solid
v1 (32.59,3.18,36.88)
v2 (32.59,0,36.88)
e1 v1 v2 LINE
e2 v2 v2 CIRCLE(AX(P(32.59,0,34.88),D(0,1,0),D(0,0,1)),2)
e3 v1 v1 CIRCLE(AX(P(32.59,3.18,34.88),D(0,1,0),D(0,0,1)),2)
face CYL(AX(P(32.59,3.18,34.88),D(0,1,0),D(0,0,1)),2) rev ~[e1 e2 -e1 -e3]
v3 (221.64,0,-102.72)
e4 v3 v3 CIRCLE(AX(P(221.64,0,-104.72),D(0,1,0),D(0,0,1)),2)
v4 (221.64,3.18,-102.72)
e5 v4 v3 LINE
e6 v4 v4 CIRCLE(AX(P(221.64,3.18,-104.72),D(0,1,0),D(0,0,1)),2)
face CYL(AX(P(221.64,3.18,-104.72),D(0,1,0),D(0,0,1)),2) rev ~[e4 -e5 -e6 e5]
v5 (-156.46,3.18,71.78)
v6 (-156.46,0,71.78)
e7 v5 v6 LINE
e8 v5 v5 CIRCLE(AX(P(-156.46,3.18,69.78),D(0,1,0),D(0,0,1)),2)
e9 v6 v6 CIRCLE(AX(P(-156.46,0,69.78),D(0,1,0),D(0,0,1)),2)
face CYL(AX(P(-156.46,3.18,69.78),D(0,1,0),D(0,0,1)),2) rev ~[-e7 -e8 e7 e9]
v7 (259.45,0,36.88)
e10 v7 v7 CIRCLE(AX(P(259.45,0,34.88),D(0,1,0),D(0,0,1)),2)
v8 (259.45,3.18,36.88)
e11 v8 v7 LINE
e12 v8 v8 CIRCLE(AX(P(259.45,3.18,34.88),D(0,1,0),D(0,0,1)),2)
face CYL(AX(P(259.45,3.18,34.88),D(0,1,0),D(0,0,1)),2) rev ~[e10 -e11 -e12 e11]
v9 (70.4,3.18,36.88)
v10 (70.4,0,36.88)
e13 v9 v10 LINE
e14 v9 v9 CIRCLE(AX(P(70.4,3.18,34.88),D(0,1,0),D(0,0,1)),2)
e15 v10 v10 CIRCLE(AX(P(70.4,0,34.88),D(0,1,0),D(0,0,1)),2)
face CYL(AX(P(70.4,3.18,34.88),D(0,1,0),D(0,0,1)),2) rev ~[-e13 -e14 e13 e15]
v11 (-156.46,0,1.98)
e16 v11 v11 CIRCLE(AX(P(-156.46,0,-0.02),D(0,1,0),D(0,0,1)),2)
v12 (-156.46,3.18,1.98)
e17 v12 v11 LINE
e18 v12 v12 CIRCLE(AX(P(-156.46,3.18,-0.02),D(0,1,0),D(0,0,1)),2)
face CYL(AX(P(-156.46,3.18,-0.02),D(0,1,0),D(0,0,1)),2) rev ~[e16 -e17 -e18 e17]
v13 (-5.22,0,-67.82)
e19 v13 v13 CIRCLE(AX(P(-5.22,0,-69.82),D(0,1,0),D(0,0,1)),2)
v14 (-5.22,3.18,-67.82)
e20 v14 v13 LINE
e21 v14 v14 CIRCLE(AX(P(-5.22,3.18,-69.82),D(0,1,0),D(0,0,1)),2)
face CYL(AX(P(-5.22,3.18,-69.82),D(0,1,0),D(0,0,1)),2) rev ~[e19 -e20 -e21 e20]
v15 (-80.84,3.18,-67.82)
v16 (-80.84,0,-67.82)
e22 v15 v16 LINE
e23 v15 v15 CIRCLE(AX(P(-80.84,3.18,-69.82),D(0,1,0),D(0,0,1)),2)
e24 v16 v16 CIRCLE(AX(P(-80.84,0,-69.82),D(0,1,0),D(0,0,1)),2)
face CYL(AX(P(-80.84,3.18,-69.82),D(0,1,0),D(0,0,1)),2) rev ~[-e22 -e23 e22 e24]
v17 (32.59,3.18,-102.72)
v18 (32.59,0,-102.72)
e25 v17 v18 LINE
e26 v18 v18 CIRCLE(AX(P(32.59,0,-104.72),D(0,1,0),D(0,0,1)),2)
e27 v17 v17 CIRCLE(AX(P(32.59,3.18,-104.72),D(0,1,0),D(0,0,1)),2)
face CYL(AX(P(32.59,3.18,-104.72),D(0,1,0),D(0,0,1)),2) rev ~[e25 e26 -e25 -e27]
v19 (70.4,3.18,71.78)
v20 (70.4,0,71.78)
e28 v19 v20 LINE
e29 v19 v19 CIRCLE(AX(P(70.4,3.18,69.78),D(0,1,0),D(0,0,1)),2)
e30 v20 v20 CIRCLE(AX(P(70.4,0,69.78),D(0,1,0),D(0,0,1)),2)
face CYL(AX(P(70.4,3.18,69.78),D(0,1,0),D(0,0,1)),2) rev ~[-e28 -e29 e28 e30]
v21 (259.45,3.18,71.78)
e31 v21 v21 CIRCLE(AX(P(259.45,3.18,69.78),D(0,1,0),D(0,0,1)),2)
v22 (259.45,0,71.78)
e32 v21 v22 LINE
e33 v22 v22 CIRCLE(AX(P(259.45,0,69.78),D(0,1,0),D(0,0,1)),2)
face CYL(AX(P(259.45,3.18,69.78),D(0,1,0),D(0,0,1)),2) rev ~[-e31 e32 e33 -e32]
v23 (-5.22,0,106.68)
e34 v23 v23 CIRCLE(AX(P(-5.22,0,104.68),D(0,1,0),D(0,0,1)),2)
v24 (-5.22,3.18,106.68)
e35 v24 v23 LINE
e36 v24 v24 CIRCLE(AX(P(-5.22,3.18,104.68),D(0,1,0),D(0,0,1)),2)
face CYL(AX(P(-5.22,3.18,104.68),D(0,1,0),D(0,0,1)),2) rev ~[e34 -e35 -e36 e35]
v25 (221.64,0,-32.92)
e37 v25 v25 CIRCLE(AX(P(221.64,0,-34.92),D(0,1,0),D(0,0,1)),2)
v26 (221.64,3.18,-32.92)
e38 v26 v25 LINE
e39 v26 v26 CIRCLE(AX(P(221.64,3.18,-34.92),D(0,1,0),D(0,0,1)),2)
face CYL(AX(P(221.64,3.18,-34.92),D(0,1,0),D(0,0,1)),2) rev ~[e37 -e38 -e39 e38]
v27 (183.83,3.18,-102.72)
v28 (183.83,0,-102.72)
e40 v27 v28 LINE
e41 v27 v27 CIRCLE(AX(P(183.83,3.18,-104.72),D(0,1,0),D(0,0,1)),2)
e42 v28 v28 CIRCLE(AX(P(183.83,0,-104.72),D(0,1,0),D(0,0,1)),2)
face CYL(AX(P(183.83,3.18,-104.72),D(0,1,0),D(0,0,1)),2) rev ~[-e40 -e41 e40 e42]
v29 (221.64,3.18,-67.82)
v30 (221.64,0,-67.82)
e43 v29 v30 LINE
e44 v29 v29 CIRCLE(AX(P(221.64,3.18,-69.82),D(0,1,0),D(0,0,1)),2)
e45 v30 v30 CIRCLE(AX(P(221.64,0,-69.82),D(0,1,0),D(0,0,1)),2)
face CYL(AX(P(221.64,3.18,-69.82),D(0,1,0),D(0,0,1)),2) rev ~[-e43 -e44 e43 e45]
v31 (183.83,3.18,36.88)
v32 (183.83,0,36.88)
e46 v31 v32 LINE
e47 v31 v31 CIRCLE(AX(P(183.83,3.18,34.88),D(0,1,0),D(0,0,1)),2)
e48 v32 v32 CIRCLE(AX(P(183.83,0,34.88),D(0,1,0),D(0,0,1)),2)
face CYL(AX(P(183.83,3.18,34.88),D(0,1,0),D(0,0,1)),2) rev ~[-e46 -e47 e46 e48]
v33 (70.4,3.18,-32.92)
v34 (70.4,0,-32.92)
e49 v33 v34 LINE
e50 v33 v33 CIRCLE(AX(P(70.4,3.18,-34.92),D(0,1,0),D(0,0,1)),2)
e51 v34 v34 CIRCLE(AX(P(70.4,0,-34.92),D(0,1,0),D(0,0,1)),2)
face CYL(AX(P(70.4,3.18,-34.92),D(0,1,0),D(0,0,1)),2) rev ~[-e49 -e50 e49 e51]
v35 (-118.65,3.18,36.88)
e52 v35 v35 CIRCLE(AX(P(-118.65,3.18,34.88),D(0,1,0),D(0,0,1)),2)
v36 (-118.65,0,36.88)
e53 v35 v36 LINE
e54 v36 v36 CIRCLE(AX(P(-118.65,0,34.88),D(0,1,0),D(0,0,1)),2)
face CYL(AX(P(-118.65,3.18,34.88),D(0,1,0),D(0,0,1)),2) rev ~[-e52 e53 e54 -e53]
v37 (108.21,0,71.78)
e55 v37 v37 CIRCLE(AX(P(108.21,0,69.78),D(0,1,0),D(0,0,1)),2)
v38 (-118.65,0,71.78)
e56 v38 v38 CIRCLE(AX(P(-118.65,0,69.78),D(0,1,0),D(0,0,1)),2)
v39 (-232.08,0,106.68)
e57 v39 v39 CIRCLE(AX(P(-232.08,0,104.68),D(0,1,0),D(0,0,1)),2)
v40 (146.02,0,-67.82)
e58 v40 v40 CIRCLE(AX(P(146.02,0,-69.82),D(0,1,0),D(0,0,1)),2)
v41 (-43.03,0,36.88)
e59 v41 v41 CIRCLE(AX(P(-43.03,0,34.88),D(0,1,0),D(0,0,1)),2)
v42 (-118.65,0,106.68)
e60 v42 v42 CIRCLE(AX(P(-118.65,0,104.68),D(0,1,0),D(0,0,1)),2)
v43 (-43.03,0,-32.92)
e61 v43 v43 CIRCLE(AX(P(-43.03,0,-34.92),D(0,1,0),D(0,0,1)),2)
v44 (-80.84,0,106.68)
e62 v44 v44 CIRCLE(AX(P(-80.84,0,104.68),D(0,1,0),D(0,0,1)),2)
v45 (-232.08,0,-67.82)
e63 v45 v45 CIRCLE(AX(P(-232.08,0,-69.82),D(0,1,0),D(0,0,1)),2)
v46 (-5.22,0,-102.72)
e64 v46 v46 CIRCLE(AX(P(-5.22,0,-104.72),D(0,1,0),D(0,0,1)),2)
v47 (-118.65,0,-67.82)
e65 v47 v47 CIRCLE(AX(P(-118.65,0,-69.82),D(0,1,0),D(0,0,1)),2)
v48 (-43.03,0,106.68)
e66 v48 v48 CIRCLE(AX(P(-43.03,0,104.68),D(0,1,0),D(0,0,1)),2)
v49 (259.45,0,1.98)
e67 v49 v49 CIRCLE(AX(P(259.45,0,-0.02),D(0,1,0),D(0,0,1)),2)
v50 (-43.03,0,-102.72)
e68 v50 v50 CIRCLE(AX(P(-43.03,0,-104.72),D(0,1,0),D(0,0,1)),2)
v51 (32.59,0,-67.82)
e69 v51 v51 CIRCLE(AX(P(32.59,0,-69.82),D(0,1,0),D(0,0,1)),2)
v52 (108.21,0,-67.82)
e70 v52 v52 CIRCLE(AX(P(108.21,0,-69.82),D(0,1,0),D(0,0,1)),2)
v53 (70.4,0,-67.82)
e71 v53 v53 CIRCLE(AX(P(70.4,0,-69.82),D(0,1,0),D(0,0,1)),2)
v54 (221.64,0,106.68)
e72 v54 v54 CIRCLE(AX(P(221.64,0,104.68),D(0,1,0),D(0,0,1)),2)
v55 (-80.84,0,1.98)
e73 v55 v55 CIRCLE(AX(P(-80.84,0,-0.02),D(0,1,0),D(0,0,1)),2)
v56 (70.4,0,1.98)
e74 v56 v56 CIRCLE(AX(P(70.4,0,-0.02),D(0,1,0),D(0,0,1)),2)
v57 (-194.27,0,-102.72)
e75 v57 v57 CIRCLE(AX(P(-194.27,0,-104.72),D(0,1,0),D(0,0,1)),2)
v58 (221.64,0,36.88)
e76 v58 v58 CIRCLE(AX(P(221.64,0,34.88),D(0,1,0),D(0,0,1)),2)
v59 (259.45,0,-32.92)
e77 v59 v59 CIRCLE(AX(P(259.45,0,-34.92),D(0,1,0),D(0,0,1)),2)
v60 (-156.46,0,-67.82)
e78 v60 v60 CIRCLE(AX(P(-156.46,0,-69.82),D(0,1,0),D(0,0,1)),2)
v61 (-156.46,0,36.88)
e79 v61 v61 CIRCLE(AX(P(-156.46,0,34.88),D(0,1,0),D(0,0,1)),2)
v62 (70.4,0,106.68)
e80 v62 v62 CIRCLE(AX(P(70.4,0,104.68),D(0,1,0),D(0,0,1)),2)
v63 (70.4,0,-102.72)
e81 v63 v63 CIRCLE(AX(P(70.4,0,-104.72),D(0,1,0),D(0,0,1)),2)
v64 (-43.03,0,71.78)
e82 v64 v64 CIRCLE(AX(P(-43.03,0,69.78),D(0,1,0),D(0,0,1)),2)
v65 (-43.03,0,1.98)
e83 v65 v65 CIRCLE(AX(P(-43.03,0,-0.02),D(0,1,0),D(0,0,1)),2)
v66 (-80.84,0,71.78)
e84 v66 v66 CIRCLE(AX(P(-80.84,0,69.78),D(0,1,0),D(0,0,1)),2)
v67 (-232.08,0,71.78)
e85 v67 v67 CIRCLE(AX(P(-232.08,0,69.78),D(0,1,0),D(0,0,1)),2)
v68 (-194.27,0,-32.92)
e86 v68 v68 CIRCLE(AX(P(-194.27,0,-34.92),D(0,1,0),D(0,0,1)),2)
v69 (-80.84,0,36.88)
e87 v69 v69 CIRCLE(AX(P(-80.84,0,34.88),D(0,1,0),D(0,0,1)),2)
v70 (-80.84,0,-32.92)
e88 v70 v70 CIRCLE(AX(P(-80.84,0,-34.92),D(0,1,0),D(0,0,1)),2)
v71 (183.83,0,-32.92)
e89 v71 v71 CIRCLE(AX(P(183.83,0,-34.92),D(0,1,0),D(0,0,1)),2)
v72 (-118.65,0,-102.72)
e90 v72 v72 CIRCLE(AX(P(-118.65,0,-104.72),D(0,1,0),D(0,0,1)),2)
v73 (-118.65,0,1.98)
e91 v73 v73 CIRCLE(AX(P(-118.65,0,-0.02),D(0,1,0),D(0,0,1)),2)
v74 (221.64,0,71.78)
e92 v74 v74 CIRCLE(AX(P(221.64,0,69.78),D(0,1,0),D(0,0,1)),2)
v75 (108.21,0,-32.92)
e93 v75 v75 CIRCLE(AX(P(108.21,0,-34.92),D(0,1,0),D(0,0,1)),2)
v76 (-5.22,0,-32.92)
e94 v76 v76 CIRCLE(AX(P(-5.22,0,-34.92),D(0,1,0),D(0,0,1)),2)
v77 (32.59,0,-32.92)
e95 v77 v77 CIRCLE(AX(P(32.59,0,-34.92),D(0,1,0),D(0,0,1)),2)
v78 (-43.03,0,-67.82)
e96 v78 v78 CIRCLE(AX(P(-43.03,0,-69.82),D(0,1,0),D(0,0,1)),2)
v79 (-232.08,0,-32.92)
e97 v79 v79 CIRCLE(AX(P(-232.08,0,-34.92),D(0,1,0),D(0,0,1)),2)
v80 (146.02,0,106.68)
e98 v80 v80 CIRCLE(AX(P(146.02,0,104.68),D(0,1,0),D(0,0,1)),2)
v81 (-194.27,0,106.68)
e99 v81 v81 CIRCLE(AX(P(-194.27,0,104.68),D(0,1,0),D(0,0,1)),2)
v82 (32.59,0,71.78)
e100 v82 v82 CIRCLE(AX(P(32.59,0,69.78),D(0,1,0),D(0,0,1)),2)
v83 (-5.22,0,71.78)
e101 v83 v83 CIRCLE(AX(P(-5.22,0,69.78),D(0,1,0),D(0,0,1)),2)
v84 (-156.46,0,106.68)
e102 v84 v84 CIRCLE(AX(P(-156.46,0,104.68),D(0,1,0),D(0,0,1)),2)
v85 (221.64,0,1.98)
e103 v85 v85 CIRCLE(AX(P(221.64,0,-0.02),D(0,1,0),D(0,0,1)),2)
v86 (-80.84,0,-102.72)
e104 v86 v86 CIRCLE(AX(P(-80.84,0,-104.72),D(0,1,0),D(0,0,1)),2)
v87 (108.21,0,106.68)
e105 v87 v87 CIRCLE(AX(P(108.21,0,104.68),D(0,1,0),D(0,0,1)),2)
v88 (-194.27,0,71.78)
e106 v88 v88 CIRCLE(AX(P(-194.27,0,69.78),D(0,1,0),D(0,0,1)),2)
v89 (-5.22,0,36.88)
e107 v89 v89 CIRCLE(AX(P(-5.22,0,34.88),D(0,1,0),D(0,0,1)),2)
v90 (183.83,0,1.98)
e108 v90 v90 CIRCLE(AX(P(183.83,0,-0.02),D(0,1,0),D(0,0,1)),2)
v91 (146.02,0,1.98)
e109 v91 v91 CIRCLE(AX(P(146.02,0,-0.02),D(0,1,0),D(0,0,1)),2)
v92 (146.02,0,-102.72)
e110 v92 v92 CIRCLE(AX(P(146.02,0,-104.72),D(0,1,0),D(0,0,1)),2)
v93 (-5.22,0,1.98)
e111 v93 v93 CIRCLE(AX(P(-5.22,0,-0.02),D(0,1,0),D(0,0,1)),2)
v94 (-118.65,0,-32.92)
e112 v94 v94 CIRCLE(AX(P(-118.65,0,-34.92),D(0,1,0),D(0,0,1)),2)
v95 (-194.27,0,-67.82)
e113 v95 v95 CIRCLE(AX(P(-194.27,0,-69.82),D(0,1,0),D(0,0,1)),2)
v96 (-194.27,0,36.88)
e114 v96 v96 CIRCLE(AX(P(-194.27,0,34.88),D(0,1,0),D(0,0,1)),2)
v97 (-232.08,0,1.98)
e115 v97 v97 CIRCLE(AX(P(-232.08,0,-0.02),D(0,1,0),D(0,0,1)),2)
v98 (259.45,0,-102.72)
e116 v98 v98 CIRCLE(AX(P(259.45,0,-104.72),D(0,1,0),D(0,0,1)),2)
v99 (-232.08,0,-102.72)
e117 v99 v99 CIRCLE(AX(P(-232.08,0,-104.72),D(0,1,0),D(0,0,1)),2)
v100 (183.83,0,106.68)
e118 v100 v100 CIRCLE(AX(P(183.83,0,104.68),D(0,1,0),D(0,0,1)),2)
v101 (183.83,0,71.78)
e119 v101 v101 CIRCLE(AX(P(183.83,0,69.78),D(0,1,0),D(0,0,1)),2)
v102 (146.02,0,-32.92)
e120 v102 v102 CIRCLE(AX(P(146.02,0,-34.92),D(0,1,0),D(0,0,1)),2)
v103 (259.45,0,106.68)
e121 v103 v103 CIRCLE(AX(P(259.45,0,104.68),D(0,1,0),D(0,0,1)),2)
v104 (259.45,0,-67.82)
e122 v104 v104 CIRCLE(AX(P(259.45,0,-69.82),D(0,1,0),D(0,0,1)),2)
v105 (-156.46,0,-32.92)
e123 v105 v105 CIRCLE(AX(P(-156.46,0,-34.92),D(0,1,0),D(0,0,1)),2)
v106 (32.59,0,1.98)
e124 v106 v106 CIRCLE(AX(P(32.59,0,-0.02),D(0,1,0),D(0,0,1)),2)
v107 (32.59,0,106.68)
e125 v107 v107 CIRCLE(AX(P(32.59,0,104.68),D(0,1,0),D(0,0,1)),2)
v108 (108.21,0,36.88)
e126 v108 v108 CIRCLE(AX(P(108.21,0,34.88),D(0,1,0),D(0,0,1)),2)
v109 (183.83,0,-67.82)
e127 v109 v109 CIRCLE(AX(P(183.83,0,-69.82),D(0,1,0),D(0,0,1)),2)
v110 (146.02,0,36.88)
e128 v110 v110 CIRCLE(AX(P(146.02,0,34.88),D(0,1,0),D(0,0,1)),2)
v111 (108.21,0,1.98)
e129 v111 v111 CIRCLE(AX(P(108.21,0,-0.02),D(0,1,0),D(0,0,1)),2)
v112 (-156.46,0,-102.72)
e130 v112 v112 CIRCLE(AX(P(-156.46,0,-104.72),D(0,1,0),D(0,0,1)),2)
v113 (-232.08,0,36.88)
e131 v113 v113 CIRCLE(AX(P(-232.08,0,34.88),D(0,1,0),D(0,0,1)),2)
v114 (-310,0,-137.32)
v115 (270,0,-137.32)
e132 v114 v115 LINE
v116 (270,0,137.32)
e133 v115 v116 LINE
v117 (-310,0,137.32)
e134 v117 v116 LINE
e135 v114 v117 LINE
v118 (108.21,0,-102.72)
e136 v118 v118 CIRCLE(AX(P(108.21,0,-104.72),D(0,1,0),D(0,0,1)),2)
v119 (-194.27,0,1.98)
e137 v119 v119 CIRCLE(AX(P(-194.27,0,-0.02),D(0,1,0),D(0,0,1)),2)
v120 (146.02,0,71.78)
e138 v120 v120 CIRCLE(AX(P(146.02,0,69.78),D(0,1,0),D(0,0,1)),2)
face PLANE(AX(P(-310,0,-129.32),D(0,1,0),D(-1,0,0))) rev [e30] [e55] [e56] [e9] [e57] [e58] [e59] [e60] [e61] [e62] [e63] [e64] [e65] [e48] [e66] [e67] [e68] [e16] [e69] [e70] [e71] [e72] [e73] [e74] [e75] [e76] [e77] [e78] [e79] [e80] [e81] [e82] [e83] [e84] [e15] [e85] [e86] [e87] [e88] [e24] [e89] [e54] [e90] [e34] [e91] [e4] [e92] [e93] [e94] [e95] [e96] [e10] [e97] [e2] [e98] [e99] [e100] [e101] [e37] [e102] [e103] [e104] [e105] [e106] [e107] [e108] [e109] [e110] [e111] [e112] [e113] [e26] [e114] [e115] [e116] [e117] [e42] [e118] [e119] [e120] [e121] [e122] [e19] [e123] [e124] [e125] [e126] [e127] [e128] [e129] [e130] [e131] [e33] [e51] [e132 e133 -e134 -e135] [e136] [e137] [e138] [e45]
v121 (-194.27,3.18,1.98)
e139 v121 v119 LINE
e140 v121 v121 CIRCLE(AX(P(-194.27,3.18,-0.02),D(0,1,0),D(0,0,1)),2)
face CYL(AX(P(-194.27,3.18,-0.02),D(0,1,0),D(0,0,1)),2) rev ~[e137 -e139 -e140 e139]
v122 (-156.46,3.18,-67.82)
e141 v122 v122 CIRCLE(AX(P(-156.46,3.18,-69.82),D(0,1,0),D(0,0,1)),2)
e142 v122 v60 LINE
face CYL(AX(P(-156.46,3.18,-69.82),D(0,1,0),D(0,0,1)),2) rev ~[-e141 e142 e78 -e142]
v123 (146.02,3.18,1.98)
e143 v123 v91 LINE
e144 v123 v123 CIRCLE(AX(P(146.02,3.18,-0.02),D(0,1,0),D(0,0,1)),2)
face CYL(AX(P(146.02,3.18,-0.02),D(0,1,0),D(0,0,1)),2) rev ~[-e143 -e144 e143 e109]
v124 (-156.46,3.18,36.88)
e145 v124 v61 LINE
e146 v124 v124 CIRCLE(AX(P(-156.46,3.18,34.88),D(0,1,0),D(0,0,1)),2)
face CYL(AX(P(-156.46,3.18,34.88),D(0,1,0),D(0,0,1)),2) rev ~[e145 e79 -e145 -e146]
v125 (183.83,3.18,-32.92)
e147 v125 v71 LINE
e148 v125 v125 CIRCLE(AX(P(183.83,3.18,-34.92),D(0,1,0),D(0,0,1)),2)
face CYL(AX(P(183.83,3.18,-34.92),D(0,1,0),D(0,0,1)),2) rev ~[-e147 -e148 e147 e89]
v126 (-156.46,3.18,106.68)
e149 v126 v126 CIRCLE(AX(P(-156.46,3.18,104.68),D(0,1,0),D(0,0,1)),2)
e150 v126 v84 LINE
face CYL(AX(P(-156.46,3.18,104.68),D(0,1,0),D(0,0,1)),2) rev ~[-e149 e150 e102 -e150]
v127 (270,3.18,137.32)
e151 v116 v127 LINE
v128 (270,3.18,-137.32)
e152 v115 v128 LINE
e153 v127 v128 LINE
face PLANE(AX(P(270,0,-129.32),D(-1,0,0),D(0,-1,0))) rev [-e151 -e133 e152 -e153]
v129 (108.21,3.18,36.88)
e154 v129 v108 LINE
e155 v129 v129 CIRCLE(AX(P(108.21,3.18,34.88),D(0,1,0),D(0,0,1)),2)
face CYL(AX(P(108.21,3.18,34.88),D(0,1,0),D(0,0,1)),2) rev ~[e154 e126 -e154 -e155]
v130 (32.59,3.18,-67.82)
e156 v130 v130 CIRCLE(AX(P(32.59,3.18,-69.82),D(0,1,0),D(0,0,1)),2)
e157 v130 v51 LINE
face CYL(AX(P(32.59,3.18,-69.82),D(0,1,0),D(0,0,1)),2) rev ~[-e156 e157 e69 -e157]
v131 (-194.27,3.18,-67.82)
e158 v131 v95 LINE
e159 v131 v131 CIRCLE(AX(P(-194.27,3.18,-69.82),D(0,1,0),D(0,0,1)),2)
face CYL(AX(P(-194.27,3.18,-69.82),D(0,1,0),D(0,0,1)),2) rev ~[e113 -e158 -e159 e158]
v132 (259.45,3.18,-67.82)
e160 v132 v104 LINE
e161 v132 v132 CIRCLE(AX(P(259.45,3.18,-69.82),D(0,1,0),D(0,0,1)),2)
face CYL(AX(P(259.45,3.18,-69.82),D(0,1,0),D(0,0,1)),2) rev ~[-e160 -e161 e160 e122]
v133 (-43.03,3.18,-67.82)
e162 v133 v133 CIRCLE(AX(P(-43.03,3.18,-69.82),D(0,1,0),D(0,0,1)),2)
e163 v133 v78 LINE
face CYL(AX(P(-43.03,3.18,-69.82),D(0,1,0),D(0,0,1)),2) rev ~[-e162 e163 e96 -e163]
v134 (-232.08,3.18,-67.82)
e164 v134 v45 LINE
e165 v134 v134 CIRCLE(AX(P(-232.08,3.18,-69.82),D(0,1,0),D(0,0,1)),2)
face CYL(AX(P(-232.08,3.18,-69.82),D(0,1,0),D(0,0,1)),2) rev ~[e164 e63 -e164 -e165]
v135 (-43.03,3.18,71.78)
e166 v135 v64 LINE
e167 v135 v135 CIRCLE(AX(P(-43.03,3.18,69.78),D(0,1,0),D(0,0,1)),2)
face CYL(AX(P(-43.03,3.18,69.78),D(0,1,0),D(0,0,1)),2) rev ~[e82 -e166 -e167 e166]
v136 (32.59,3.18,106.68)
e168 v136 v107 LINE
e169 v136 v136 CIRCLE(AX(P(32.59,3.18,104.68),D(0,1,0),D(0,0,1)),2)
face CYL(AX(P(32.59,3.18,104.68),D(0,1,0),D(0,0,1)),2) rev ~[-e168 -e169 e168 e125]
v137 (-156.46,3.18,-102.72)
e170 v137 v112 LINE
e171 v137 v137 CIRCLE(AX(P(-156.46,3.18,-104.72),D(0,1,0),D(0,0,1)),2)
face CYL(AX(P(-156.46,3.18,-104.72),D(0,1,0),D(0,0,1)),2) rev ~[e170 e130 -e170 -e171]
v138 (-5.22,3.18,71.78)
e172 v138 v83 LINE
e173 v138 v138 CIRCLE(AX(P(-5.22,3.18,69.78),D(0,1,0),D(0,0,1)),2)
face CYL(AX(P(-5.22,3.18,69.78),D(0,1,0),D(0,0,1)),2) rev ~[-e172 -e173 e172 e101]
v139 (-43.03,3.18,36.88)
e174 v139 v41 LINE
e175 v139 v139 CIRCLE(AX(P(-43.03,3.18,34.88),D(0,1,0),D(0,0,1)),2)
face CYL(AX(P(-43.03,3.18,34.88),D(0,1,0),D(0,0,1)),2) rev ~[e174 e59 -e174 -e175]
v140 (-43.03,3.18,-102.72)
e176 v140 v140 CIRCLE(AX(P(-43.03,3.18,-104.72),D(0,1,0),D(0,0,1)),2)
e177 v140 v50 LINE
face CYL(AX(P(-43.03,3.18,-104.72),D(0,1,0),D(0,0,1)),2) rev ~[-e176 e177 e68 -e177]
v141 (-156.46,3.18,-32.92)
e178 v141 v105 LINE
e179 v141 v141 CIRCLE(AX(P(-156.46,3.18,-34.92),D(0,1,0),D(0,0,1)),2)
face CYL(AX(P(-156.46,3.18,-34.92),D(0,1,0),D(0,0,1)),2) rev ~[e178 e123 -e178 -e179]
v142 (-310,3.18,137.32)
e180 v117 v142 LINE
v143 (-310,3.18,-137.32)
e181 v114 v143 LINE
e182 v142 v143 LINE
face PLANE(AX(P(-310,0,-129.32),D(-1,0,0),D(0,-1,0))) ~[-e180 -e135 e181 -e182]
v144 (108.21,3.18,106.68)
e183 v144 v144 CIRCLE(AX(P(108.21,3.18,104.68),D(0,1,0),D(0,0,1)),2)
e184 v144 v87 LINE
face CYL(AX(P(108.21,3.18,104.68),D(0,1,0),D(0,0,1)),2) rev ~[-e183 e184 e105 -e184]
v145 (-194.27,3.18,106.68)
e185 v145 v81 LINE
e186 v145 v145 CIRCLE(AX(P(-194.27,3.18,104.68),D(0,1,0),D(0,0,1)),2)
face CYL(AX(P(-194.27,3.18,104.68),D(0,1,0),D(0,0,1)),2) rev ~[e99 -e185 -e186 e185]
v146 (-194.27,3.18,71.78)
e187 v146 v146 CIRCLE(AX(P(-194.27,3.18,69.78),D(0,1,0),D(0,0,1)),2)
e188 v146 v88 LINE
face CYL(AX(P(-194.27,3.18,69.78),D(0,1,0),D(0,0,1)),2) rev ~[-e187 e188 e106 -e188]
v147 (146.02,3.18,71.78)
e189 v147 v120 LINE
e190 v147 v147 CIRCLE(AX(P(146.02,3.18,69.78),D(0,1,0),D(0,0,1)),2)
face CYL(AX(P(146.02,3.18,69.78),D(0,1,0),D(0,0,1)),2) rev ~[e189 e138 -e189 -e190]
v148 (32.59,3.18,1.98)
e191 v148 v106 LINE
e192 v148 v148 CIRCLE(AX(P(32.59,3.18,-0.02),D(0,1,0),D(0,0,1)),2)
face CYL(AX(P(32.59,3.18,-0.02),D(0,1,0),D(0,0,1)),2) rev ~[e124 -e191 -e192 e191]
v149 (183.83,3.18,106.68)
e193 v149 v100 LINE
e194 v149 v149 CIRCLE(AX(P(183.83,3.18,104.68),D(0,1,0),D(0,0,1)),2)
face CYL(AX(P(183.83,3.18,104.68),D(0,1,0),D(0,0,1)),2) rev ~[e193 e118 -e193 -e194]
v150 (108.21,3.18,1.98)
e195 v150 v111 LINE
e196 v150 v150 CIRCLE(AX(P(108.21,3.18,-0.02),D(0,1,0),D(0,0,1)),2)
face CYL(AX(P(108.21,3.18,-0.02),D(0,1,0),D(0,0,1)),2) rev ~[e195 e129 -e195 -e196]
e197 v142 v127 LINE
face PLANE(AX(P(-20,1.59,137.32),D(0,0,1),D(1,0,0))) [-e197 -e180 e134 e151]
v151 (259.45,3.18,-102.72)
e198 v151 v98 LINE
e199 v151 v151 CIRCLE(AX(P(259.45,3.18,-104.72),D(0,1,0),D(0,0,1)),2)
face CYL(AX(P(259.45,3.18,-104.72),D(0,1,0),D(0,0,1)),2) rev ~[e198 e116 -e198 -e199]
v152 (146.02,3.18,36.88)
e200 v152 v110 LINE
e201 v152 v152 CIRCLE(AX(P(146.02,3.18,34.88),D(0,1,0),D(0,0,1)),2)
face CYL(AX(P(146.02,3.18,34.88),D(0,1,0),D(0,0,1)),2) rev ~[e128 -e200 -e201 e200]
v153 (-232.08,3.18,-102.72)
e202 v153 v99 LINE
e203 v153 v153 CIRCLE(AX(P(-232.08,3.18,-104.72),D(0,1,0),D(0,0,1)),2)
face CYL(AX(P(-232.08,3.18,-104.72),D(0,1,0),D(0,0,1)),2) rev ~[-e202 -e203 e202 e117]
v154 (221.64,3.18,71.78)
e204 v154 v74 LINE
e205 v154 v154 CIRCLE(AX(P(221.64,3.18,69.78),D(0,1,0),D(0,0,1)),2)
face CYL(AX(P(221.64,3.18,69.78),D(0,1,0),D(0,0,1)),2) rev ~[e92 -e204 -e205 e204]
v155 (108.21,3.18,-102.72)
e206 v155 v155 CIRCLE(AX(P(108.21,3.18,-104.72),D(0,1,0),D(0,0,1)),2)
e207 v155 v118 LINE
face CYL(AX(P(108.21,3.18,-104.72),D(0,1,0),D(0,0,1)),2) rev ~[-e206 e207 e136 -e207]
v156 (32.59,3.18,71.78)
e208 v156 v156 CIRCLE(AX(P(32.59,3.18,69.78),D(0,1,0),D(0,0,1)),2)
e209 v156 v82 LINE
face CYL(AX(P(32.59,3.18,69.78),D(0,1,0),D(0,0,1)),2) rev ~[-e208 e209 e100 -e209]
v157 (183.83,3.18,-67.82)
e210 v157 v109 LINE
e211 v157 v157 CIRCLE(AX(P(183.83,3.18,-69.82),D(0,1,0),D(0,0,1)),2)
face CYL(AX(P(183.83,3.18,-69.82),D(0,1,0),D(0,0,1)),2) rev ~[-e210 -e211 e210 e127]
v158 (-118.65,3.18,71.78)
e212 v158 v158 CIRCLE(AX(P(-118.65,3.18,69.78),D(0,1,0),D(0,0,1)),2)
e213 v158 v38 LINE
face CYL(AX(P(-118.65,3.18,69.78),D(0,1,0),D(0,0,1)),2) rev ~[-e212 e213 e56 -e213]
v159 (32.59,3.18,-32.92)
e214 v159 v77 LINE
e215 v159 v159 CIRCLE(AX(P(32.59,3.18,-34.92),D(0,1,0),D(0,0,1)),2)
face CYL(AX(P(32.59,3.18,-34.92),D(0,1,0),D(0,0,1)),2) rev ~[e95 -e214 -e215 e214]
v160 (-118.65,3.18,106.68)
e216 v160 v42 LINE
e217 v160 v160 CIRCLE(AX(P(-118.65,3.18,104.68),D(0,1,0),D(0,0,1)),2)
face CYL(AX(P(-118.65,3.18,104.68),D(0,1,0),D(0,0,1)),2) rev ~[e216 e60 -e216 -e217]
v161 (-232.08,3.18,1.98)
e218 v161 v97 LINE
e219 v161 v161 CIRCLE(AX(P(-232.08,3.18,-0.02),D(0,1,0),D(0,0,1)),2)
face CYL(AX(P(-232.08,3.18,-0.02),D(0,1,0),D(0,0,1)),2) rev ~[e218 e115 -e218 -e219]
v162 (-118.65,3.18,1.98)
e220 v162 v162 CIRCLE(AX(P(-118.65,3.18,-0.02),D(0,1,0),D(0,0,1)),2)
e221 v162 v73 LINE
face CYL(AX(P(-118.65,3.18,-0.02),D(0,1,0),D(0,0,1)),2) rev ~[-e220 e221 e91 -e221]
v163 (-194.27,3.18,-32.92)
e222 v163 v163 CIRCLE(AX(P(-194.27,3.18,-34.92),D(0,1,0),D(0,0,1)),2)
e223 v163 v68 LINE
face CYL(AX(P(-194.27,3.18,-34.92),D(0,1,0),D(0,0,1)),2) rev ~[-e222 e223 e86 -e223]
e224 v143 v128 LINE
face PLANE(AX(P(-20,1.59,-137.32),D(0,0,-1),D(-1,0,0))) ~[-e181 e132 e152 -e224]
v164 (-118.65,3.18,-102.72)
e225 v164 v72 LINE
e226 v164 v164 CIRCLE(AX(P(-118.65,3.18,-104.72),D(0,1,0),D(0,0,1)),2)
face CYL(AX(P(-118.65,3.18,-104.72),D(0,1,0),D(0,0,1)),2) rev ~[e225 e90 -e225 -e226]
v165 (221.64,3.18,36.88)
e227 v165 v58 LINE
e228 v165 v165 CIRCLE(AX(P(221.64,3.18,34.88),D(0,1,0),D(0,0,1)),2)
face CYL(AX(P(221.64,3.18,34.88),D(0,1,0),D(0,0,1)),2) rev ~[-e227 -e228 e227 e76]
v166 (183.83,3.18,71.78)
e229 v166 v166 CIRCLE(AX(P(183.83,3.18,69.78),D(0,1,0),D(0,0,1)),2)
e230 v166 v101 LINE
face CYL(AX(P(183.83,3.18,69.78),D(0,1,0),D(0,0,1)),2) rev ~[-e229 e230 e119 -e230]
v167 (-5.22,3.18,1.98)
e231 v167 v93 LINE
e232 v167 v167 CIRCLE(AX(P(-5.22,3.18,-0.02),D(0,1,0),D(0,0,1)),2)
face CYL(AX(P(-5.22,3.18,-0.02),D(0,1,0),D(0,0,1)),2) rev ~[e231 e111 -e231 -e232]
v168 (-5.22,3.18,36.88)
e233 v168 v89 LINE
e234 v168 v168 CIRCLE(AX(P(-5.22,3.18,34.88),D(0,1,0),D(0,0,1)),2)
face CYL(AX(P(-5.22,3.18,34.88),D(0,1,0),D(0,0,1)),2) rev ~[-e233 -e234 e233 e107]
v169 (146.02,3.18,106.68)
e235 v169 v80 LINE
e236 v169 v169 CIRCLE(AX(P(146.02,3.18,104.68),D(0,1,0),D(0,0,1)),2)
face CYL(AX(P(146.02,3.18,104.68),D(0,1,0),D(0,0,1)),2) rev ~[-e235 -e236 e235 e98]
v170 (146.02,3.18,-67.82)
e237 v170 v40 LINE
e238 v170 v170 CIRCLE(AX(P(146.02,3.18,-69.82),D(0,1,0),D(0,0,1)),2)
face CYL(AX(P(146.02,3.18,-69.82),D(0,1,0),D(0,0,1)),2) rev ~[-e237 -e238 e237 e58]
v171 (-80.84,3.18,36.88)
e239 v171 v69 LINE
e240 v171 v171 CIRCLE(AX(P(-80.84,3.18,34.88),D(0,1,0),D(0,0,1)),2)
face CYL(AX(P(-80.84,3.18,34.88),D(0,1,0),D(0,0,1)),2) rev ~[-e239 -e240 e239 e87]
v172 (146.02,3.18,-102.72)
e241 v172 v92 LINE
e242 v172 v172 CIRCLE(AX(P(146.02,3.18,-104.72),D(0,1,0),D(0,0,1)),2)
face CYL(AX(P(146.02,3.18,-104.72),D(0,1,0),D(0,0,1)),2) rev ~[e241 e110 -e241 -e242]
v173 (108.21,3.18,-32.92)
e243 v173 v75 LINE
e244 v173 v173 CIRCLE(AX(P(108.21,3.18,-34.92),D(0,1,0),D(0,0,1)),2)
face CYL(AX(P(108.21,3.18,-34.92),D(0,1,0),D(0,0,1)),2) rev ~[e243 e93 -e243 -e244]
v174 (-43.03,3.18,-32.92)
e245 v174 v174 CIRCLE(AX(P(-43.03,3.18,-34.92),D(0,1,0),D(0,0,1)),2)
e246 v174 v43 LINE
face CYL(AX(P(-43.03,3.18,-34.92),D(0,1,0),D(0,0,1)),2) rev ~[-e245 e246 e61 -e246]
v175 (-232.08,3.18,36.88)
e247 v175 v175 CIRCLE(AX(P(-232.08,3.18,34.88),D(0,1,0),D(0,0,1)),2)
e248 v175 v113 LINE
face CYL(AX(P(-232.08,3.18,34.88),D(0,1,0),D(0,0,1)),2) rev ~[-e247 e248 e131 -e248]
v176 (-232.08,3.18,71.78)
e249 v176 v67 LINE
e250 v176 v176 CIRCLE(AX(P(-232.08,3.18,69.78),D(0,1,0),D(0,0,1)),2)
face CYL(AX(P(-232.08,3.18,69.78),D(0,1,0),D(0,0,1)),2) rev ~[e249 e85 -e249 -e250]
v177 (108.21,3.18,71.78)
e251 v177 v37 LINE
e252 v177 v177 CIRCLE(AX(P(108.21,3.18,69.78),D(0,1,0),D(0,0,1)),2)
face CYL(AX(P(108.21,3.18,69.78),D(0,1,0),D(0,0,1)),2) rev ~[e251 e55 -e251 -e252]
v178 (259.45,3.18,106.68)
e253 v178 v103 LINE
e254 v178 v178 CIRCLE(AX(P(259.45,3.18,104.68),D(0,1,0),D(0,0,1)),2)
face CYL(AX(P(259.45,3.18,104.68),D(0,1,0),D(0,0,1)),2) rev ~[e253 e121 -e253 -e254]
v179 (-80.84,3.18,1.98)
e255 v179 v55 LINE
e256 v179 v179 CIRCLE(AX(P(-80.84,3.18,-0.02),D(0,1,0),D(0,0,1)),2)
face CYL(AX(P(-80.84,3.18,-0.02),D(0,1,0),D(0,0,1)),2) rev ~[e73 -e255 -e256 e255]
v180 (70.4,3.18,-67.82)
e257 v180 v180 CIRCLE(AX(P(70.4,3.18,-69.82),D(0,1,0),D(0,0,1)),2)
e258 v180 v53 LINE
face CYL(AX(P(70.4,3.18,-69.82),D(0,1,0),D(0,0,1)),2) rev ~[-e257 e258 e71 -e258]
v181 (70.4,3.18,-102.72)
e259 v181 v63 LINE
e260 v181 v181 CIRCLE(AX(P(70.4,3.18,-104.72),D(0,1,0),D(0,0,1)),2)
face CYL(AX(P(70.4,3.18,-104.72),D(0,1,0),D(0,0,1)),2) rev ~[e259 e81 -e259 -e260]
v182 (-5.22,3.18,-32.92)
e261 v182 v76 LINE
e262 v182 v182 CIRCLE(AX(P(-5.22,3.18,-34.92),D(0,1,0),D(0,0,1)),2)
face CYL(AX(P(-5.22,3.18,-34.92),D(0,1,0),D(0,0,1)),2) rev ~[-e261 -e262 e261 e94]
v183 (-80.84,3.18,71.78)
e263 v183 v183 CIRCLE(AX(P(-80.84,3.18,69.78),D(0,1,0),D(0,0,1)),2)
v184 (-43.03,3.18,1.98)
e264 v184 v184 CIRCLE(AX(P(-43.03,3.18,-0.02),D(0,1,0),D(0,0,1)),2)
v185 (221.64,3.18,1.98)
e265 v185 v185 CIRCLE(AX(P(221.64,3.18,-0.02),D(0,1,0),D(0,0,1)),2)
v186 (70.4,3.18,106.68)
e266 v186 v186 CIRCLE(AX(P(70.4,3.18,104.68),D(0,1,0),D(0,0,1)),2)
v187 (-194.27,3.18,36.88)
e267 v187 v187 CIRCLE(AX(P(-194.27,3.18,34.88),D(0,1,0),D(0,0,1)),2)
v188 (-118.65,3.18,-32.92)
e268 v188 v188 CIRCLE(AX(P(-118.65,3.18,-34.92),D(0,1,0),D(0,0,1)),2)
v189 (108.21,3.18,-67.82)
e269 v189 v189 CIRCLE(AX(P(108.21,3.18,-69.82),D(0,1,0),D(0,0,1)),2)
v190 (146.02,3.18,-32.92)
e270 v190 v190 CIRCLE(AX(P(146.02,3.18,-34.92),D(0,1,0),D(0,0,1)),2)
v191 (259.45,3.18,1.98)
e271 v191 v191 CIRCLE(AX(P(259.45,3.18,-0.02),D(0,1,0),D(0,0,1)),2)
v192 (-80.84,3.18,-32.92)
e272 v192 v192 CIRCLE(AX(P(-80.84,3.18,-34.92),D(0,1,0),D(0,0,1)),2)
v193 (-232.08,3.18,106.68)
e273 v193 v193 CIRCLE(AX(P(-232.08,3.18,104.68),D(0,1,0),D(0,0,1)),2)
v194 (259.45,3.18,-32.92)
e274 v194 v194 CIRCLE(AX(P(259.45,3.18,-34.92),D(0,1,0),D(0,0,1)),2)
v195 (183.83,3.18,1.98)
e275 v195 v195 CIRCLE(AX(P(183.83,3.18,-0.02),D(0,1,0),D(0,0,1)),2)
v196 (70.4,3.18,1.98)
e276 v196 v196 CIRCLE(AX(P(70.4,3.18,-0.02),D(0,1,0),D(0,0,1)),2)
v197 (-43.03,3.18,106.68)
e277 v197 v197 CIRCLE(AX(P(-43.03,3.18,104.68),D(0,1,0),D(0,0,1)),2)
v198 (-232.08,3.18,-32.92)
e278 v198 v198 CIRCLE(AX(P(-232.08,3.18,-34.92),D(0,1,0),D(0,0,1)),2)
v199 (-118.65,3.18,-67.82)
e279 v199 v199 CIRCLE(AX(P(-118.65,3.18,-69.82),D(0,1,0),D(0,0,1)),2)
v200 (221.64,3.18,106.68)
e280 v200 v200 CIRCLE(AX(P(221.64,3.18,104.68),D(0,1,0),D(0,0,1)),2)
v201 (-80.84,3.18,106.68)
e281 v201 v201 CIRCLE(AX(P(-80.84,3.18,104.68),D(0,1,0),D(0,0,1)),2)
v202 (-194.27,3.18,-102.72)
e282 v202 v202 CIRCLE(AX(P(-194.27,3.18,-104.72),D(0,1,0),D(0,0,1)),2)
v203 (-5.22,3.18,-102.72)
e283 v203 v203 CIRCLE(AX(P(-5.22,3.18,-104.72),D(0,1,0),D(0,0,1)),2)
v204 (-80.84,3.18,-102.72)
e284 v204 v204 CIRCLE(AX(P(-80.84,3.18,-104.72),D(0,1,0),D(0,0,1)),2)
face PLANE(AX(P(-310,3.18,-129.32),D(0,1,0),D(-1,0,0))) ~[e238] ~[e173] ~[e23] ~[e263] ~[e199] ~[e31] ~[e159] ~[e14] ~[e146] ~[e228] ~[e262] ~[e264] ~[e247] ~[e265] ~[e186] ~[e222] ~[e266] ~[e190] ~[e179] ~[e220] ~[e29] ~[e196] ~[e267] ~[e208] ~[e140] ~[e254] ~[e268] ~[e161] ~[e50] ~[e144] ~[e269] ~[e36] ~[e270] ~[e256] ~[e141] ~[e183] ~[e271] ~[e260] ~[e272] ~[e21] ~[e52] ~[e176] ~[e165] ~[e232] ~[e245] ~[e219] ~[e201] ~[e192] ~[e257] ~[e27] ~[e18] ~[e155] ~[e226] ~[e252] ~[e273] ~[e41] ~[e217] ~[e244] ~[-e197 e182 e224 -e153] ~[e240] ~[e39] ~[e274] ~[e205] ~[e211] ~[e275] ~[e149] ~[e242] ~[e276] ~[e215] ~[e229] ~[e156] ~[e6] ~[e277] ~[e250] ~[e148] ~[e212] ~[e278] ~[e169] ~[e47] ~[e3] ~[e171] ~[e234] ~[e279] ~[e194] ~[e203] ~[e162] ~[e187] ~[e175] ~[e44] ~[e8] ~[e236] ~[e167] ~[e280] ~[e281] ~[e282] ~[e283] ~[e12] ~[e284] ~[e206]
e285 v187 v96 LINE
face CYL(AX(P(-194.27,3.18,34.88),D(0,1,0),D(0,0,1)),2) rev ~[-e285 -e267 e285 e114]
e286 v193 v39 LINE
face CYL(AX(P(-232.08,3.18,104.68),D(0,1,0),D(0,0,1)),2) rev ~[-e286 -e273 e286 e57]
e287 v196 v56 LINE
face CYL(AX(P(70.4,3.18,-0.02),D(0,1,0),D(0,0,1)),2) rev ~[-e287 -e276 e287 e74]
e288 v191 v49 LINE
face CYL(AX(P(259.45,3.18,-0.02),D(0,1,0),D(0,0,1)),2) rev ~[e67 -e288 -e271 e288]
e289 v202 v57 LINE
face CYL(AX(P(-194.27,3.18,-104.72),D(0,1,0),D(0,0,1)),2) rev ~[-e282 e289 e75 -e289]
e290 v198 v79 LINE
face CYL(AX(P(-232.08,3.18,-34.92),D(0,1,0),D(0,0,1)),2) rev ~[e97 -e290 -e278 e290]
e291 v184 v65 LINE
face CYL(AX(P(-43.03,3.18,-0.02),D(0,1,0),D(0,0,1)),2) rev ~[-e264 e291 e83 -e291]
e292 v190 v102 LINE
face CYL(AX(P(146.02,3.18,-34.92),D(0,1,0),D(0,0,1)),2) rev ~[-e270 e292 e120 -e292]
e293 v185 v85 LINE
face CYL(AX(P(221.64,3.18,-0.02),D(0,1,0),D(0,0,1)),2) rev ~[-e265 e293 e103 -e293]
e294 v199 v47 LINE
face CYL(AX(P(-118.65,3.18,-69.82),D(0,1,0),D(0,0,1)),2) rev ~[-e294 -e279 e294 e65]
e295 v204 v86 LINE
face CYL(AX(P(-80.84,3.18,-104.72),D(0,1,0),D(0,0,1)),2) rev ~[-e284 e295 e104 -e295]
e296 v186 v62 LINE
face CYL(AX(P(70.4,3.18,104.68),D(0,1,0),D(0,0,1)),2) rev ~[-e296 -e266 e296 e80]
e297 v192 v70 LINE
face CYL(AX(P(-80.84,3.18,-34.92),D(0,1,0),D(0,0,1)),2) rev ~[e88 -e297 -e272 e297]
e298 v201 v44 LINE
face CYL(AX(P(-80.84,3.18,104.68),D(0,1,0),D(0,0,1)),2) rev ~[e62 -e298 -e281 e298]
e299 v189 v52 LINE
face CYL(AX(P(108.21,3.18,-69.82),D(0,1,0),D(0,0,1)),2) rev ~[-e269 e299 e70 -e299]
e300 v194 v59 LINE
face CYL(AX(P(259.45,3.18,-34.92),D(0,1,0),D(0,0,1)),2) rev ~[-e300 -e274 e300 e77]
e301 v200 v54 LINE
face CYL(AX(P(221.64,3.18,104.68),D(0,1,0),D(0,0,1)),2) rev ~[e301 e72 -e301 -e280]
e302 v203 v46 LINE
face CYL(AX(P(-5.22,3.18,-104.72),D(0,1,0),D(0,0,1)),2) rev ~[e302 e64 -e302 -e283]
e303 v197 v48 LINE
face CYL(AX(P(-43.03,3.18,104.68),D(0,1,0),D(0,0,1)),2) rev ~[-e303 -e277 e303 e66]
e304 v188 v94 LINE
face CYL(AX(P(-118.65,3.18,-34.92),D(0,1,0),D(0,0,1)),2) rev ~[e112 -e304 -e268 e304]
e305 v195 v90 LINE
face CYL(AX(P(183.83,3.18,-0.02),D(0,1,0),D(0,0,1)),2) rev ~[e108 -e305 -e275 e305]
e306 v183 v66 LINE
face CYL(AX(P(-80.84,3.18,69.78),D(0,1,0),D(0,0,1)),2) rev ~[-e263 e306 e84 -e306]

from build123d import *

# Parameters (mm, degrees)
SKETCH1_W            = 540
SKETCH1_H            = 258.64
BOSS_EXTRUDE1_DEPTH  = 3.18
CUT_EXTRUDE1_REACH   = 301.389
SKETCH2_R            = 2
LPATTERN1_COUNT      = 14
LPATTERN1_PITCH      = 37.81
LPATTERN1_COUNT_DIR2 = 7
LPATTERN1_PITCH_DIR2 = 34.9
SKETCH4_W            = 258.64
SKETCH4_H            = 3.18
BOSS_EXTRUDE2_DEPTH  = 40
SKETCH5_W            = 580
SKETCH5_H            = 3.18
BOSS_EXTRUDE3_DEPTH  = 8


with BuildPart() as part:
    # Sketch1 → Boss-Extrude1 (new body)
    with BuildSketch(Plane(origin=(0, 0, 0), x_dir=(1, 0, 0), z_dir=(0, 1, 0))):
        Rectangle(SKETCH1_W, SKETCH1_H)
    extrude(amount=BOSS_EXTRUDE1_DEPTH)

    # Sketch2 → Cut-Extrude1 (cut, up to next)
    with BuildSketch(Plane(origin=(0, 3.18, 0), x_dir=(1, 0, 0), z_dir=(0, 1, 0)), mode=Mode.PRIVATE) as cut_extrude1_sk1:
        with Locations(Location((-232.08, 104.72, 0), (0, 0, 270))):
            Circle(SKETCH2_R)
    cut_extrude1_tool1 = extrude(cut_extrude1_sk1.sketch, amount=-CUT_EXTRUDE1_REACH, mode=Mode.PRIVATE) & part.part
    cut_extrude1 = cut_extrude1_tool1.solids().sort_by_distance((-232.08, 3.18, -104.72))[0]
    add(cut_extrude1, mode=Mode.SUBTRACT)

    # LPattern1: Cut-Extrude1 14 × 7
    with Locations(*[(i * LPATTERN1_PITCH, 0, j * LPATTERN1_PITCH_DIR2) for i in range(LPATTERN1_COUNT) for j in range(LPATTERN1_COUNT_DIR2) if (i, j) != (0, 0)]):
        add(cut_extrude1, mode=Mode.SUBTRACT)

    # Sketch4 → Boss-Extrude2 (add)
    with BuildSketch(Plane.ZY.offset(270)):
        with Locations((0, 1.59)):
            Rectangle(SKETCH4_W, SKETCH4_H)
    extrude(amount=BOSS_EXTRUDE2_DEPTH)

    # Sketch5 → Boss-Extrude3 (add)
    with BuildSketch(Plane.XY.offset(129.32)):
        with Locations((-20, 1.59)):
            Rectangle(SKETCH5_W, SKETCH5_H)
    boss_extrude3 = extrude(amount=BOSS_EXTRUDE3_DEPTH)

    # Mirror1: Boss-Extrude3 across plane
    add(boss_extrude3.mirror(Plane.XY))


solid = part.part
